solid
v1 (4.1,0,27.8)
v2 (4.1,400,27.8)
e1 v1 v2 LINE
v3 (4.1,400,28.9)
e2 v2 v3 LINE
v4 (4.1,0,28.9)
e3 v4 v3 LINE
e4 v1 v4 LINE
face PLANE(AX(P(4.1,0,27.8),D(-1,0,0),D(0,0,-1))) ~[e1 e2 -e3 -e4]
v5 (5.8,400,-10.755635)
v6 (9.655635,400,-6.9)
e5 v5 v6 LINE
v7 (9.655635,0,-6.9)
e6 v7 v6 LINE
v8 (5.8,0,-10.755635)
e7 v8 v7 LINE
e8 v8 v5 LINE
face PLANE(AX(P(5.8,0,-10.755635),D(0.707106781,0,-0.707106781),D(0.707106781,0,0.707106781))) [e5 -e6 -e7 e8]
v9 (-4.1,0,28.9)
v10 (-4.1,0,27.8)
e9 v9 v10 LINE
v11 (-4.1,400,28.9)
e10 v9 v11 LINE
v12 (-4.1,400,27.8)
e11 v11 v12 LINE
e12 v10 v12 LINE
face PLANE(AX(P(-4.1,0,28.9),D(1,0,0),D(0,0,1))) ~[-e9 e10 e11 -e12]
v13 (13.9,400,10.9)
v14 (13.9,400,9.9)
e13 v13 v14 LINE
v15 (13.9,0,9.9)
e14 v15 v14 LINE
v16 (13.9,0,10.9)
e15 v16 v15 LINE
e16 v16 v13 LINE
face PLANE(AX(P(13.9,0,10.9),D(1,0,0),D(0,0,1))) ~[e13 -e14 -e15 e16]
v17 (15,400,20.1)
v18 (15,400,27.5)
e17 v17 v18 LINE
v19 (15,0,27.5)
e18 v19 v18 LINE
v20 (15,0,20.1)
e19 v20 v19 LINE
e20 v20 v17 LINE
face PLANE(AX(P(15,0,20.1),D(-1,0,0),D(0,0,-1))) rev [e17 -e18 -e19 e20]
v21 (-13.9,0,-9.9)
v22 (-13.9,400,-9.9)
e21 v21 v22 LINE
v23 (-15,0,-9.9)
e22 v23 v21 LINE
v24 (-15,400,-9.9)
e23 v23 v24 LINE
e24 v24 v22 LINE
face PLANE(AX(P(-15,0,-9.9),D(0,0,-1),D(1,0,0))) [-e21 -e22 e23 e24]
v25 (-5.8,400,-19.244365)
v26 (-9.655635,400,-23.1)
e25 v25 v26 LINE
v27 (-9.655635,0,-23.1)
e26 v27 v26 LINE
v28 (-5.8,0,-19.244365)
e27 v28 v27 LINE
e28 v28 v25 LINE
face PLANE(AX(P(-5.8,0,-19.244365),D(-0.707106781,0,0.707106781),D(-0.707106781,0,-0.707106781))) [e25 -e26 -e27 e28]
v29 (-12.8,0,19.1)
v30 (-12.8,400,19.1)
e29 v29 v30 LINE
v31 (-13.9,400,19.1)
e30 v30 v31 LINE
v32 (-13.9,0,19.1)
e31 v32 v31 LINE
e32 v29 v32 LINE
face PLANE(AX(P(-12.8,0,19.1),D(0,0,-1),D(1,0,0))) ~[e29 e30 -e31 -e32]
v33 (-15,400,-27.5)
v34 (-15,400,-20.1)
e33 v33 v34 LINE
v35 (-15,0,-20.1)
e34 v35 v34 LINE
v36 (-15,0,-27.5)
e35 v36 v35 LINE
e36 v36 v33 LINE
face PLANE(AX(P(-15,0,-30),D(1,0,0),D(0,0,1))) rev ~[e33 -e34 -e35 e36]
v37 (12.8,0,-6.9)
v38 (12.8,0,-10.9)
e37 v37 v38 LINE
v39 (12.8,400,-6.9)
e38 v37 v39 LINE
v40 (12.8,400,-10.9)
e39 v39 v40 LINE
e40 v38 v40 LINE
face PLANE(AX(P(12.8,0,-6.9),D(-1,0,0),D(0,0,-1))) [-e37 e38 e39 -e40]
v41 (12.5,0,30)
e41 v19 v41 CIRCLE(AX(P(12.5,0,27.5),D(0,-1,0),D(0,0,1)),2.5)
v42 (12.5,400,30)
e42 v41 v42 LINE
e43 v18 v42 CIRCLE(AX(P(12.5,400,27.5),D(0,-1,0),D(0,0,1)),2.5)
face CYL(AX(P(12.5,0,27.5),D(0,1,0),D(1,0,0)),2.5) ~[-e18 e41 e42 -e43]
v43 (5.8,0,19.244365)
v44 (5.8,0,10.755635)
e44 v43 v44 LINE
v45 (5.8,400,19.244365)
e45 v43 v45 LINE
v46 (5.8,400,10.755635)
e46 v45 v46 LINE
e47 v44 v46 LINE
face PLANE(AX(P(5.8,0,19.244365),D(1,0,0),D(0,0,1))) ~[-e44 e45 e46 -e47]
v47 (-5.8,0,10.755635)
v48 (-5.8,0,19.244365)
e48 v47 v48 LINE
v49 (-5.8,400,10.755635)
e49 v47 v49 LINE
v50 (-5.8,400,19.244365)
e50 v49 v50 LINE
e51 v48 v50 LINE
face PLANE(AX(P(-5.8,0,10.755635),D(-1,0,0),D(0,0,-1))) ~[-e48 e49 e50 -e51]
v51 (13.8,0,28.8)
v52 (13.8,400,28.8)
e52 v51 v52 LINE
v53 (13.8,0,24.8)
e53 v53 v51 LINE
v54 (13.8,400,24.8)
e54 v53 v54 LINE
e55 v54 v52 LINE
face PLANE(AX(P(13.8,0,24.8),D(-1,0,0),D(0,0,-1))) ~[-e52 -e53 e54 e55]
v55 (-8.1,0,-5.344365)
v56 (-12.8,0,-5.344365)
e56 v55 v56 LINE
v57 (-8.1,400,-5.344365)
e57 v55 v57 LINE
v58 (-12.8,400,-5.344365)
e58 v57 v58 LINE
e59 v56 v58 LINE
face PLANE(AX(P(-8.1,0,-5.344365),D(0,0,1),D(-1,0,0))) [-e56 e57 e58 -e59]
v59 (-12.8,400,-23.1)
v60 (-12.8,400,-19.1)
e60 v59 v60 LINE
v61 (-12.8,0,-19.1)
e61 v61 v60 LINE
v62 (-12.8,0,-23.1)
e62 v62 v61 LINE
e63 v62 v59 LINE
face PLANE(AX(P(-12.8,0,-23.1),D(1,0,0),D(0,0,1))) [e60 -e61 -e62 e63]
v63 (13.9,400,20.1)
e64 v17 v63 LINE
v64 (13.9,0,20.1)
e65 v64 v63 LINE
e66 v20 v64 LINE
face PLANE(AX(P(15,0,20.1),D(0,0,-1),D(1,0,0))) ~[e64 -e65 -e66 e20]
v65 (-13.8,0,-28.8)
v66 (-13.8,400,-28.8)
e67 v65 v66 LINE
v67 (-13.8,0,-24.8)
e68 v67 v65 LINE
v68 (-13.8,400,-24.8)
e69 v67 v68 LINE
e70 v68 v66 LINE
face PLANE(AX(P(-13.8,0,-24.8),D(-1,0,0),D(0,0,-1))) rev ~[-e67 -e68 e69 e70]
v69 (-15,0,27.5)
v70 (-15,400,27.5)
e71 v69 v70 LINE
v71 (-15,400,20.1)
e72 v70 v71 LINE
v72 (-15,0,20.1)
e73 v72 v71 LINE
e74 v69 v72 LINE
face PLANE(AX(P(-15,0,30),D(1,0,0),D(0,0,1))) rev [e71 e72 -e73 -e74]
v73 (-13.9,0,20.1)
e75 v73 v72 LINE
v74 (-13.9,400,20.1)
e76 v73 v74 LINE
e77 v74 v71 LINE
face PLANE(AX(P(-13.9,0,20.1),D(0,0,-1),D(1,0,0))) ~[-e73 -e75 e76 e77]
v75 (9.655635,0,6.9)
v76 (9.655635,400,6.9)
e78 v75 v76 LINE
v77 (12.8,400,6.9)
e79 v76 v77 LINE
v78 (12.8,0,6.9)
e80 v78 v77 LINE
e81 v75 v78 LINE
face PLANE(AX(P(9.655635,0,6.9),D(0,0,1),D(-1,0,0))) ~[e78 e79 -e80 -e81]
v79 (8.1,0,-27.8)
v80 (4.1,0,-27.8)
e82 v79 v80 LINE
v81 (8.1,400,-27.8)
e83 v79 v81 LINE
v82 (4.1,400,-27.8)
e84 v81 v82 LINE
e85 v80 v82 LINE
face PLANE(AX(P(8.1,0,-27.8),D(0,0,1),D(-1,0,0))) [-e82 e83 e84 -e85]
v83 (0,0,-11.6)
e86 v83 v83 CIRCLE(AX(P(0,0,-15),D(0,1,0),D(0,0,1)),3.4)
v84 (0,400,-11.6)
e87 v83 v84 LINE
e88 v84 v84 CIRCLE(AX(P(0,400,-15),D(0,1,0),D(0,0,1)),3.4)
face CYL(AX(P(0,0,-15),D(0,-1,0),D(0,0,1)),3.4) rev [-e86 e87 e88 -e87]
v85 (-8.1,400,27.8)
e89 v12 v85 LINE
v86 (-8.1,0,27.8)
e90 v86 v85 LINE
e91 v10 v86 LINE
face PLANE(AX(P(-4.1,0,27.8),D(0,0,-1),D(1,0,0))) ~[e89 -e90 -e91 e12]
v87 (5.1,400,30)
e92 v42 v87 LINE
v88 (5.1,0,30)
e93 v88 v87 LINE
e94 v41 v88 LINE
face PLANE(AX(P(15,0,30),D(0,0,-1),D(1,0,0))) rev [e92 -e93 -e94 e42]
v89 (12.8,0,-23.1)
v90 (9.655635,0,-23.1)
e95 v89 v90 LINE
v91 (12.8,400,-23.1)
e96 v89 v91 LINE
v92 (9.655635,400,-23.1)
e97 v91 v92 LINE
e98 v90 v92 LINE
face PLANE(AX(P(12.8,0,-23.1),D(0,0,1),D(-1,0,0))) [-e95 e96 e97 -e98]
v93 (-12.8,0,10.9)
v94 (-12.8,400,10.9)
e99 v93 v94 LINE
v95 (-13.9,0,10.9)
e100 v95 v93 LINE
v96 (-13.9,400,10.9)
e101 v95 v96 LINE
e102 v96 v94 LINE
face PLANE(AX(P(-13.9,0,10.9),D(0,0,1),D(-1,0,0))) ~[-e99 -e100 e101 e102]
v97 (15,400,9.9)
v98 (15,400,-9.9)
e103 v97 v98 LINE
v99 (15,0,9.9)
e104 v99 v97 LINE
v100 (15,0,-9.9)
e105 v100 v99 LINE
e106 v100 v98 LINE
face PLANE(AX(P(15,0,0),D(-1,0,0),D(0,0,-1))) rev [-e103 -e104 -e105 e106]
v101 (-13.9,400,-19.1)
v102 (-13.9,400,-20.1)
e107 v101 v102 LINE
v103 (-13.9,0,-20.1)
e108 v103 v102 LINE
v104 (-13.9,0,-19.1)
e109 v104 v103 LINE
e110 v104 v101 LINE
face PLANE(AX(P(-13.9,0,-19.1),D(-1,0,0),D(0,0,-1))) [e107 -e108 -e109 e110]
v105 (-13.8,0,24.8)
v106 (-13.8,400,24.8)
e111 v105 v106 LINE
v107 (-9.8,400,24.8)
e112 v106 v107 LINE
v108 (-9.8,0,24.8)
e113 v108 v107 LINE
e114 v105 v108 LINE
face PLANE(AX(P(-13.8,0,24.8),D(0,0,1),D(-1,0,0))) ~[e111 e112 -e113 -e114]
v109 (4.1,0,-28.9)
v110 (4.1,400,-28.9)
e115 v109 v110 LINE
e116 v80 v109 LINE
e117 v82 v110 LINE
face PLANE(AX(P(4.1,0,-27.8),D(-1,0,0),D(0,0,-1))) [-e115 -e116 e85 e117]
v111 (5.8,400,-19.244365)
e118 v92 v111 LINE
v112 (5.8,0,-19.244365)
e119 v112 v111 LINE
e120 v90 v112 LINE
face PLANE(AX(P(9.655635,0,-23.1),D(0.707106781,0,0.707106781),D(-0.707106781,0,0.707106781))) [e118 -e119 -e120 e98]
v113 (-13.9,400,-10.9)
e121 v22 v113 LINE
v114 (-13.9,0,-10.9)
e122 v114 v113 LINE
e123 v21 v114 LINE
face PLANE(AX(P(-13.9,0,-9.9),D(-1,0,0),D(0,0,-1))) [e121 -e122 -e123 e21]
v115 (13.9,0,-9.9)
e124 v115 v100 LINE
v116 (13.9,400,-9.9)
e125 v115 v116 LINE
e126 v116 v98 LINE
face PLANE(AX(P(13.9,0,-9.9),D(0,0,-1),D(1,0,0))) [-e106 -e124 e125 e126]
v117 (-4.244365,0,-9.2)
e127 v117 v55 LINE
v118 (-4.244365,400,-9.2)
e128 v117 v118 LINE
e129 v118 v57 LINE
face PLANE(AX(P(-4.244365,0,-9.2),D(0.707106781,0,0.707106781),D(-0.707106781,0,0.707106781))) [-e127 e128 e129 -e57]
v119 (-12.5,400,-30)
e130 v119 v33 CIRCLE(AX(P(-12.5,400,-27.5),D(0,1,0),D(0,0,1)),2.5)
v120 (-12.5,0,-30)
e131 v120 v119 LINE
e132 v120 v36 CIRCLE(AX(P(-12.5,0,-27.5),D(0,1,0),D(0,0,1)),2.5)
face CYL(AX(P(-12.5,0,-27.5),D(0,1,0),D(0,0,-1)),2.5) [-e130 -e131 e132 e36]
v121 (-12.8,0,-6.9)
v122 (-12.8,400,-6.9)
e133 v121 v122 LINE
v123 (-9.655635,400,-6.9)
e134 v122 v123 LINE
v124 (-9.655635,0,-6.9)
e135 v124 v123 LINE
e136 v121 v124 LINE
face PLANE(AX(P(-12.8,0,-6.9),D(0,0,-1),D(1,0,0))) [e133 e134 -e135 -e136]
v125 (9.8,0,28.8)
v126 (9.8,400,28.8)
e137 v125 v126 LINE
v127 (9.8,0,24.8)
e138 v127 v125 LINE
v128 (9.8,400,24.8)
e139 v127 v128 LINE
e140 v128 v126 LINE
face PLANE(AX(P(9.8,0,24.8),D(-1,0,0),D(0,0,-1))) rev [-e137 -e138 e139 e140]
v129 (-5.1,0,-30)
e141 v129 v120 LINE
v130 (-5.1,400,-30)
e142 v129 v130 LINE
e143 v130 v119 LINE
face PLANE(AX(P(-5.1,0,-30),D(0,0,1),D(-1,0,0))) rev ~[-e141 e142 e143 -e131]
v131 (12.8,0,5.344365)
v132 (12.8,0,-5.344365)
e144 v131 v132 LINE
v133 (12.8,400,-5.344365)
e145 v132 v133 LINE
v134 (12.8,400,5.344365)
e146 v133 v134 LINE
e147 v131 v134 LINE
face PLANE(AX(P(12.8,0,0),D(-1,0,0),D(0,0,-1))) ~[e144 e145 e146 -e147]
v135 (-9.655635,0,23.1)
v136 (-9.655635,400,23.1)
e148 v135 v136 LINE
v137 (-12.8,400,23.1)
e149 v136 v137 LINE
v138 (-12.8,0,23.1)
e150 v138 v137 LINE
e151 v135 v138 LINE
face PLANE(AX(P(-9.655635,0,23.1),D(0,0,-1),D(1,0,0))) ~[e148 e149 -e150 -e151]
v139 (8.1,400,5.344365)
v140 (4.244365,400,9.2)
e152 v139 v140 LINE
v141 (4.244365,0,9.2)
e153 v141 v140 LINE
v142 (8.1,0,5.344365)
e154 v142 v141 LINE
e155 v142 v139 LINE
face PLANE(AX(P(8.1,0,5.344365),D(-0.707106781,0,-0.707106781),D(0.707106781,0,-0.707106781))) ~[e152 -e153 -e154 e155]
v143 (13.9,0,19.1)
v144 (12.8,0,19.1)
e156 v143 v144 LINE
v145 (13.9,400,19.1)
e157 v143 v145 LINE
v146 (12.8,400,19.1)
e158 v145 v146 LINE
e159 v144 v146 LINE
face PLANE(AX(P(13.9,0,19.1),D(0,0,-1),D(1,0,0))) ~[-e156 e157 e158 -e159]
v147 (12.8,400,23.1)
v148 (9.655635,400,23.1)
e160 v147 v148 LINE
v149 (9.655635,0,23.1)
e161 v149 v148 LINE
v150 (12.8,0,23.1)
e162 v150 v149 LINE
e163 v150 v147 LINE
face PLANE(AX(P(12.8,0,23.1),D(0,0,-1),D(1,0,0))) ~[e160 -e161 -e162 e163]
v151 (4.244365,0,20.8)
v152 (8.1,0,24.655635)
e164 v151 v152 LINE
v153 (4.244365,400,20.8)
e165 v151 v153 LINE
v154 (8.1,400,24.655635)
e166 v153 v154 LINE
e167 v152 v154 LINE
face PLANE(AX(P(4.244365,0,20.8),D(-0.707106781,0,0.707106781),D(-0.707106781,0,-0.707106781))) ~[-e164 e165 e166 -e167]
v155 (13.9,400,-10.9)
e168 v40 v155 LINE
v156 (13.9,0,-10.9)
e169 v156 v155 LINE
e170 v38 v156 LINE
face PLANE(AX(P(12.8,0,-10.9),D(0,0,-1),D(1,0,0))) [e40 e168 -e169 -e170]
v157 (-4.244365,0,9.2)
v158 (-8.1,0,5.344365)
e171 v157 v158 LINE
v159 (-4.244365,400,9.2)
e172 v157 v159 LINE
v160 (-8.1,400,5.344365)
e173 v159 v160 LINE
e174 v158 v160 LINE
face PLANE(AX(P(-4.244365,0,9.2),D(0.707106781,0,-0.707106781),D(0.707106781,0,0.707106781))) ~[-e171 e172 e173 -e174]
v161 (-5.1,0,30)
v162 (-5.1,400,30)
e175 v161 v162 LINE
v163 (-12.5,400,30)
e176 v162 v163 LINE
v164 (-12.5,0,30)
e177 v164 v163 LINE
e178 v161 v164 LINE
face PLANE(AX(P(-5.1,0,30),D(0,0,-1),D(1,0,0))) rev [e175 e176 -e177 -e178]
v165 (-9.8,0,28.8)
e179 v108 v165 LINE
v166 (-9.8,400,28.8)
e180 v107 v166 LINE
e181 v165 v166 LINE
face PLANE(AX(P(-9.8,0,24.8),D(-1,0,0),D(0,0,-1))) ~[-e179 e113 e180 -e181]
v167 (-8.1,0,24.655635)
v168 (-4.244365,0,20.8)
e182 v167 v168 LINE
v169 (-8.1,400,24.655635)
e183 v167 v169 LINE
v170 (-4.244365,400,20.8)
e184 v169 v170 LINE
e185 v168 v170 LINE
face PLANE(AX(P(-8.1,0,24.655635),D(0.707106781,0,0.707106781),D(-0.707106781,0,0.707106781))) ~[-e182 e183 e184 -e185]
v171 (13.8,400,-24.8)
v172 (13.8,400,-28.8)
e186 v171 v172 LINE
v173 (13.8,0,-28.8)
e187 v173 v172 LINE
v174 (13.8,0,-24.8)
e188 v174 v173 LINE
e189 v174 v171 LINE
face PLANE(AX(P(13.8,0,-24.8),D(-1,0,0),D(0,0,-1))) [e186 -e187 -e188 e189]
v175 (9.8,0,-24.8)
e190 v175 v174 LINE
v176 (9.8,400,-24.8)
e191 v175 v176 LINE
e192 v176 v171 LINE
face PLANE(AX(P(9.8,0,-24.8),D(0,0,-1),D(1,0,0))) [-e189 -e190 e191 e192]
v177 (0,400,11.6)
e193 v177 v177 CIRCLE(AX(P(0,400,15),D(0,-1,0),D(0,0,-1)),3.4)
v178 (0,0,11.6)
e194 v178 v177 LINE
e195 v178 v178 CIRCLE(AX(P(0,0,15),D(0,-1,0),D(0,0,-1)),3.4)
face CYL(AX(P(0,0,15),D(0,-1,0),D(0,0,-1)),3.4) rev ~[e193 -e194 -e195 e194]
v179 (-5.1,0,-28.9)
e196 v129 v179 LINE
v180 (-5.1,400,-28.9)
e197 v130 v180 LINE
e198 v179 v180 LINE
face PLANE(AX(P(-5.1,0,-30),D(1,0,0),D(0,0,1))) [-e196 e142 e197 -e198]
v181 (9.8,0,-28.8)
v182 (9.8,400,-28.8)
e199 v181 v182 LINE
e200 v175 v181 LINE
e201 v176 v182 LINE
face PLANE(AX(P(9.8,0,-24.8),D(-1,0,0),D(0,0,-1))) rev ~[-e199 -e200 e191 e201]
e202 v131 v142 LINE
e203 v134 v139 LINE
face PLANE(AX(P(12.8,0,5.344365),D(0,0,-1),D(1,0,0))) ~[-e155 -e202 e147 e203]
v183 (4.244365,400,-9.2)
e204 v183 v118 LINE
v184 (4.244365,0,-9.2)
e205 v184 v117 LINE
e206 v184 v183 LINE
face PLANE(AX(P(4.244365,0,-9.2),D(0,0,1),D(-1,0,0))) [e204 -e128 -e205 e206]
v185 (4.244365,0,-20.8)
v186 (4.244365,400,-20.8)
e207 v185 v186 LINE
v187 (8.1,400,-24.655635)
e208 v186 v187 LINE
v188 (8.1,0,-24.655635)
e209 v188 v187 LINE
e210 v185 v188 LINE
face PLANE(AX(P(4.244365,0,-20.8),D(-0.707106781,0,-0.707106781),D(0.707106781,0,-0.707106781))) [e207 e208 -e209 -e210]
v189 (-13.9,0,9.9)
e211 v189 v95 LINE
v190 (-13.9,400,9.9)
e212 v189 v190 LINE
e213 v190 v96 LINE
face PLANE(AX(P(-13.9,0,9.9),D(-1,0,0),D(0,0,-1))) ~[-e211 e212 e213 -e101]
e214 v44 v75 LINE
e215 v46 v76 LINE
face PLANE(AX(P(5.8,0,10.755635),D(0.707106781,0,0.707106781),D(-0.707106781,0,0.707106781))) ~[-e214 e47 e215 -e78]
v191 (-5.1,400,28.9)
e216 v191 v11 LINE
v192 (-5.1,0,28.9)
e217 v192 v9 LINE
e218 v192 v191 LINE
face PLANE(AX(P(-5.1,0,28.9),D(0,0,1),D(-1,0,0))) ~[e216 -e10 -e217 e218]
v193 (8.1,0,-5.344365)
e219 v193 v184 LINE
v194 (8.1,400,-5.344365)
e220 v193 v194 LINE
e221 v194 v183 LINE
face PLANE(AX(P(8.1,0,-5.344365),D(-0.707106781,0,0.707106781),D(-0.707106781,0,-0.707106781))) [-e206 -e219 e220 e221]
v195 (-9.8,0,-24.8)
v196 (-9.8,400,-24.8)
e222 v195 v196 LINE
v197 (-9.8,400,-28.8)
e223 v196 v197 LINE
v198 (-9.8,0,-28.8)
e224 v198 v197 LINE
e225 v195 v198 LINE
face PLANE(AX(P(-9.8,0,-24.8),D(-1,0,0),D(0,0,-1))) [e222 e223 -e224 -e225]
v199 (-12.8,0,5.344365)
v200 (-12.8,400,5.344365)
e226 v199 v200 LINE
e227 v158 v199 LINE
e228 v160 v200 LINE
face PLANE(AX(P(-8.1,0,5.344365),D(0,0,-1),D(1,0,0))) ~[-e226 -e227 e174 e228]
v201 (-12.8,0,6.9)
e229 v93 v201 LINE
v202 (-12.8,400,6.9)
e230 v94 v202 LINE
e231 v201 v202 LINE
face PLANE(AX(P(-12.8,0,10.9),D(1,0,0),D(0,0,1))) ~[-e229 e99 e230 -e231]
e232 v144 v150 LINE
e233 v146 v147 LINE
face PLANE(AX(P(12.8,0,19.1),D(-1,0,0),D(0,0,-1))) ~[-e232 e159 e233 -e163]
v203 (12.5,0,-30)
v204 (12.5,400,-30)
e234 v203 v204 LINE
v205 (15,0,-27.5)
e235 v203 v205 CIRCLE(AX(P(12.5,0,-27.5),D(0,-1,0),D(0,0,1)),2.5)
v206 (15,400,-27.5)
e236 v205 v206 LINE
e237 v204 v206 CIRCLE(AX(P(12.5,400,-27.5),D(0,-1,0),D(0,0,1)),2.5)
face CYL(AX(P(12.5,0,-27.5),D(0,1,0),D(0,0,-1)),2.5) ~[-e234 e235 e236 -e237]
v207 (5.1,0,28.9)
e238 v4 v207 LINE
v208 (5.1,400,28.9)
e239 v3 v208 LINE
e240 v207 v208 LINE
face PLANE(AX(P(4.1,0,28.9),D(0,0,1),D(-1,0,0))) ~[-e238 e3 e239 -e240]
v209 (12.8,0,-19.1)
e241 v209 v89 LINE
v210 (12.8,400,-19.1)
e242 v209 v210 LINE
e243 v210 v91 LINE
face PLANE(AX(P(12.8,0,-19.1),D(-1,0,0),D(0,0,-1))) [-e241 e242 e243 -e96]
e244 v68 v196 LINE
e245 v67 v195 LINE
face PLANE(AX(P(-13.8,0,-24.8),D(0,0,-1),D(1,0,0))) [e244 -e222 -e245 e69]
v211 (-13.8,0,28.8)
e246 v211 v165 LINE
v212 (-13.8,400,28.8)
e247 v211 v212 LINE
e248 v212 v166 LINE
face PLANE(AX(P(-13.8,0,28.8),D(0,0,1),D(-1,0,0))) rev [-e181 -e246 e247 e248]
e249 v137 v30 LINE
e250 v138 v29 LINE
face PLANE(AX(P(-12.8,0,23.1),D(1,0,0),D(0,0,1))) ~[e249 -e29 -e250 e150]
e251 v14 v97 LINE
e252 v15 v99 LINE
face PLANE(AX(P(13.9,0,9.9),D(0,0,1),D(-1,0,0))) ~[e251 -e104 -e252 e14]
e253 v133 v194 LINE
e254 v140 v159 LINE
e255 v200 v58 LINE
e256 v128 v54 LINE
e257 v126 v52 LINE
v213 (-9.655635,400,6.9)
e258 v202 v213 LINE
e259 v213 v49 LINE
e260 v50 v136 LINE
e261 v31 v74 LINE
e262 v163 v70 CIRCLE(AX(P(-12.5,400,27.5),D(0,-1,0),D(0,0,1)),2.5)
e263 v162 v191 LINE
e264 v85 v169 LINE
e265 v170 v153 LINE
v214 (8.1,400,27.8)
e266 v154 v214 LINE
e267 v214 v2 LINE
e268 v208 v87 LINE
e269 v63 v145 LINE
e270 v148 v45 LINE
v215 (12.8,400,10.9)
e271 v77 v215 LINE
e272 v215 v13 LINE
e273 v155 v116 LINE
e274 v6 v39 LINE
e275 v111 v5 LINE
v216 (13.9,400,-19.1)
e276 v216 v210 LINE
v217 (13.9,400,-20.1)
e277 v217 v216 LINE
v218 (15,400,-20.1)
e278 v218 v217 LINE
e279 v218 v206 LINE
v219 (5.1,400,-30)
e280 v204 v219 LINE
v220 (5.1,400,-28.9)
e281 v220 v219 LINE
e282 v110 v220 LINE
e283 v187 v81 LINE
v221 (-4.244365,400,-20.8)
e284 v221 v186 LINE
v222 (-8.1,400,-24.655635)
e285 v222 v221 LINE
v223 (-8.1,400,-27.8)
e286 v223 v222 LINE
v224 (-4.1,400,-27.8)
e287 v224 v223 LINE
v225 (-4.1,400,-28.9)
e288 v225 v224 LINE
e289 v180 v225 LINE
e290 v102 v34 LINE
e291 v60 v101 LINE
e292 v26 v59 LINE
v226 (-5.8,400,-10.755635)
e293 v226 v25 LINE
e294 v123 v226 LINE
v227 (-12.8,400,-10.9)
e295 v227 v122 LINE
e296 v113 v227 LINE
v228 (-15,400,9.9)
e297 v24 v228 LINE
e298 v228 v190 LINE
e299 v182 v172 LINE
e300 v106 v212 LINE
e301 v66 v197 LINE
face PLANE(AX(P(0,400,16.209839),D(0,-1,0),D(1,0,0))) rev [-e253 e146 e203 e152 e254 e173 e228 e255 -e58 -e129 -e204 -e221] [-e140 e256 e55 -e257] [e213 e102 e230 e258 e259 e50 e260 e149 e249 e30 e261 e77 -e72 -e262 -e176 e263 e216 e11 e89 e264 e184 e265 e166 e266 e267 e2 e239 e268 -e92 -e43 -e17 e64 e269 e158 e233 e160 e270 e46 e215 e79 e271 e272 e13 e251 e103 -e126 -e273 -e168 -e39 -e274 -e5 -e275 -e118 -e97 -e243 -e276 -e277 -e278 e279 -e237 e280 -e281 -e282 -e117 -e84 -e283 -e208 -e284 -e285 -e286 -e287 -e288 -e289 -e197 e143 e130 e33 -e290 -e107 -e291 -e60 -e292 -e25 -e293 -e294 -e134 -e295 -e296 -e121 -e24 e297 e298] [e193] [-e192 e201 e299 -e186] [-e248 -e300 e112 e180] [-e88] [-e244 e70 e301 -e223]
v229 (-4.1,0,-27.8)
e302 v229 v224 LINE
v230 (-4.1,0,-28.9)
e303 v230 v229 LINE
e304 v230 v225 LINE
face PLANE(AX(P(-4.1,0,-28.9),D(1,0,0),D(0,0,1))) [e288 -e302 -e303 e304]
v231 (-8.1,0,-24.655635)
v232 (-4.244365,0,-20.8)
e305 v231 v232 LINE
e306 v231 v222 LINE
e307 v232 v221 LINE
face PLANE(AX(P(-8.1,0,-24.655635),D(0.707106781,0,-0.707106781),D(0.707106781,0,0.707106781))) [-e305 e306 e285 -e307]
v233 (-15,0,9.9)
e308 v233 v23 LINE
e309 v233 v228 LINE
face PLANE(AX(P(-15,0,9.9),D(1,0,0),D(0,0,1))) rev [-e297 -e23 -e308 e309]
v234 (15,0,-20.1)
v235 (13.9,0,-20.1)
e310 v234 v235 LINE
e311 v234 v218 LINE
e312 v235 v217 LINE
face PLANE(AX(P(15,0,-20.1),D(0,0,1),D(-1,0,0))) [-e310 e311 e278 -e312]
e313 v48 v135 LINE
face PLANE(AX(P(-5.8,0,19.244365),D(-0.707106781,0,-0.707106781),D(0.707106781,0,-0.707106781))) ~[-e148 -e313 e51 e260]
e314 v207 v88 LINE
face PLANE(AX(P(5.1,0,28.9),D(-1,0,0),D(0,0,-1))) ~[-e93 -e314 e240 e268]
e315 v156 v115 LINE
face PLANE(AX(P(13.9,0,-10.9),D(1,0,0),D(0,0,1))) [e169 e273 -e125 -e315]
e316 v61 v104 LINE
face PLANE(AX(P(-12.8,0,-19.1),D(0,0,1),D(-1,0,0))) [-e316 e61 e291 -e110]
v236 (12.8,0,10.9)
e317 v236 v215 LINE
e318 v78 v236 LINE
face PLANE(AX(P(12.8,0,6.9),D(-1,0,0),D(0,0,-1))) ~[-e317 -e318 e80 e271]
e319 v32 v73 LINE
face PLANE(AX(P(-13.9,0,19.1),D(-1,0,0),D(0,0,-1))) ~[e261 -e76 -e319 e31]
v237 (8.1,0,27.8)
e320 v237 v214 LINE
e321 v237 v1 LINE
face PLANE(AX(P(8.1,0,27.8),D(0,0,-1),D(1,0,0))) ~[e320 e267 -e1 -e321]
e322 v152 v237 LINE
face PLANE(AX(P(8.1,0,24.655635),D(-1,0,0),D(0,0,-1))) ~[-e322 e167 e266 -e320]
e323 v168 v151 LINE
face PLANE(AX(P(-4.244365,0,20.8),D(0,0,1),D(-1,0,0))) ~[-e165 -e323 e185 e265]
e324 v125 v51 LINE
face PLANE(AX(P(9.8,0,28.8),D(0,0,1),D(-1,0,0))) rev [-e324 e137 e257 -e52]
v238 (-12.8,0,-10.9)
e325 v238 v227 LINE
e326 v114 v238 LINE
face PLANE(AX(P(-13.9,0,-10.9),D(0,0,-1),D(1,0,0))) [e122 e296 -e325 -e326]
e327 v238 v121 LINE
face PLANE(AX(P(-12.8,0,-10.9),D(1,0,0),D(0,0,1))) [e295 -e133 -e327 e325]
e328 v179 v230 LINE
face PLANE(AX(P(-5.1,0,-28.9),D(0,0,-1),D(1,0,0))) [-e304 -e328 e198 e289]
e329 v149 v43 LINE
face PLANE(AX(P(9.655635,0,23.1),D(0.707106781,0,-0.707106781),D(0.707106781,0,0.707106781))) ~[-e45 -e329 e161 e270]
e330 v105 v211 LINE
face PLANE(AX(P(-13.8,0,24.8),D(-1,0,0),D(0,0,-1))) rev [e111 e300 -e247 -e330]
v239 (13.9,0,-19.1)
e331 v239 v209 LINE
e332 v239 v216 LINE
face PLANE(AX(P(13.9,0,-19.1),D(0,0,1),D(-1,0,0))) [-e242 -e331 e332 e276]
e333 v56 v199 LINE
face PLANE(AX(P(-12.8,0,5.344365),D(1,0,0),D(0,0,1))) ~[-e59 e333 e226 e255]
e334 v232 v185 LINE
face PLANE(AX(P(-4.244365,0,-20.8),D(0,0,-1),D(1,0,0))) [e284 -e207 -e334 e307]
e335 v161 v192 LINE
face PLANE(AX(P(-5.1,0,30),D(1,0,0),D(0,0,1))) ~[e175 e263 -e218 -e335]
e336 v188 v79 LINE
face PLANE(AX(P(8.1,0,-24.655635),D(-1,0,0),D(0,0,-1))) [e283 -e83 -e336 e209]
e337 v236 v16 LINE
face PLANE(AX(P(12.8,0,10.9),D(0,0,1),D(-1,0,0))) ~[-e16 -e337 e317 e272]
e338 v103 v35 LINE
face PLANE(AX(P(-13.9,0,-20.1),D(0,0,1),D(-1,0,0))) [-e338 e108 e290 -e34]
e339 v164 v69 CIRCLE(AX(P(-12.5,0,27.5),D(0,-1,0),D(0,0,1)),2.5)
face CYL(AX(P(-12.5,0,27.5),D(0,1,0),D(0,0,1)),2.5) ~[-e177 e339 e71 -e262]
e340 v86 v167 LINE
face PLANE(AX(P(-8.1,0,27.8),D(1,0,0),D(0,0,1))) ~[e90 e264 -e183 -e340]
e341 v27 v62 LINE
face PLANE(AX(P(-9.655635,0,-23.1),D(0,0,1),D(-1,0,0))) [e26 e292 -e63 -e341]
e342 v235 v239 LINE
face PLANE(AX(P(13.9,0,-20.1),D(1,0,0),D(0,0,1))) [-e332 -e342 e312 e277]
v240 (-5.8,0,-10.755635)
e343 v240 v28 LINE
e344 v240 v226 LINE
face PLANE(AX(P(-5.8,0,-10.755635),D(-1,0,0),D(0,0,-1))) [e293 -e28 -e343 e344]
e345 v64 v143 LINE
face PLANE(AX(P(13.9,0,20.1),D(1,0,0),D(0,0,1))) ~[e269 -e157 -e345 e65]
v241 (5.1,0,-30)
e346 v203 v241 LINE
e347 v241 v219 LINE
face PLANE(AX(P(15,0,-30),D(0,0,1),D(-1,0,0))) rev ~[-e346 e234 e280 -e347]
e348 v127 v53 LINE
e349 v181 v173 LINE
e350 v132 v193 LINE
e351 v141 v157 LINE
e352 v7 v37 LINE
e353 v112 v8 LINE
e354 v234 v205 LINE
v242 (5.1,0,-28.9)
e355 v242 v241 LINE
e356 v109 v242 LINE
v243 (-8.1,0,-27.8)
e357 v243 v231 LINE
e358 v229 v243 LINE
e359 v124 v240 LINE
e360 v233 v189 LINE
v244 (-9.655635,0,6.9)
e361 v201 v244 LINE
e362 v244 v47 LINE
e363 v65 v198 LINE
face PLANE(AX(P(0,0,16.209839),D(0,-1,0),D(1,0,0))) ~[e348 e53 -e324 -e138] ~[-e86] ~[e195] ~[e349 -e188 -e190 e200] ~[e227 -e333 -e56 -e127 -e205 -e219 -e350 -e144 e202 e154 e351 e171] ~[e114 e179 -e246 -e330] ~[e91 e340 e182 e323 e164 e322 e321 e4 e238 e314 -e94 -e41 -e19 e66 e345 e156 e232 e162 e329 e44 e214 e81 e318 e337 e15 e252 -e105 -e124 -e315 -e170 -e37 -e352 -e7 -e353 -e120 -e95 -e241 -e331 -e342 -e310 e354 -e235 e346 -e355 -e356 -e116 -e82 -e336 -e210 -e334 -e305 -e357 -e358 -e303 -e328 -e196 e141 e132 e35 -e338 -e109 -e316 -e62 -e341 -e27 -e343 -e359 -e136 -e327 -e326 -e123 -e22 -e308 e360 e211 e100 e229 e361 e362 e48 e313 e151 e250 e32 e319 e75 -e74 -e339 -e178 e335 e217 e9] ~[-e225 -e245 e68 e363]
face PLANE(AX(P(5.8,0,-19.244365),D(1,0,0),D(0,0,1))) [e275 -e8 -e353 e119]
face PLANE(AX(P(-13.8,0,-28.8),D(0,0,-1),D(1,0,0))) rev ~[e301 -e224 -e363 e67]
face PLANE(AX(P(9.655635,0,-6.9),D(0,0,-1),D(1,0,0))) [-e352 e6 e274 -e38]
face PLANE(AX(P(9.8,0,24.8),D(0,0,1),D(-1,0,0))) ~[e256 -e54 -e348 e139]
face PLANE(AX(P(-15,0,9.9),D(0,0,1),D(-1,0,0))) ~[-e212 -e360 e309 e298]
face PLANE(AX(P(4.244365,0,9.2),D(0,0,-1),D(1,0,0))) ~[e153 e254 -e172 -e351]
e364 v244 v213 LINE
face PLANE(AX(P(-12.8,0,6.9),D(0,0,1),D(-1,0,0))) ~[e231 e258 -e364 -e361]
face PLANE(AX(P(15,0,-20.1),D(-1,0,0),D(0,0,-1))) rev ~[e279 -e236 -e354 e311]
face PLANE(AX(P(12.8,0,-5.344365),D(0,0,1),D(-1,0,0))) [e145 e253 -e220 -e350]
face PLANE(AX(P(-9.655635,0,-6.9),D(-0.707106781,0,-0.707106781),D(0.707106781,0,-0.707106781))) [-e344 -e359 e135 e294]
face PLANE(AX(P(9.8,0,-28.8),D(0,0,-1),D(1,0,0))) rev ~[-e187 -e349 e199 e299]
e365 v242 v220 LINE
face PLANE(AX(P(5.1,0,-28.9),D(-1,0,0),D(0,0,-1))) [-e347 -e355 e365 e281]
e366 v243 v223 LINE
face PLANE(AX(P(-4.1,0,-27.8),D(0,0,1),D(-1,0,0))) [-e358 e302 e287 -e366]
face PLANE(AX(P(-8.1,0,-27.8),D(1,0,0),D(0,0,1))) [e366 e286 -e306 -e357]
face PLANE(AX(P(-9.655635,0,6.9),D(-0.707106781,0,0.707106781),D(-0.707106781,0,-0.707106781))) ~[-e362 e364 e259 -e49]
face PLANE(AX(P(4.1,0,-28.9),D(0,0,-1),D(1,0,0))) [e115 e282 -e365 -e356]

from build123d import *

# Parameters (mm, degrees)
SKETCH1_R            = 3.4
SKETCH1_W            = 4
SKETCH1_H            = 4
BOSS_EXTRUDE1_DEPTH  = 400
FILLET1_R            = 2.5
FILLET1_OF_MIRROR1_R = 2.5


with BuildPart() as part:
    # Sketch1 → Boss-Extrude1 (new body)
    with BuildSketch(Plane(origin=(0, 0, 0), x_dir=(1, 0, 0), z_dir=(0, 1, 0))):
        Polygon((-4.244365081, 20.8), (4.244365081, 20.8), (8.1, 24.655634919), (8.1, 27.8), (4.1, 27.8), (4.1, 28.9), (5.1, 28.9), (5.1, 30), (13.444365081, 30), (15, 30), (15, 28.444365081), (15, 20.1), (13.9, 20.1), (13.9, 19.1), (12.8, 19.1), (12.8, 23.1), (9.655634919, 23.1), (5.8, 19.244365081), (5.8, 10.755634919), (9.655634919, 6.9), (12.8, 6.9), (12.8, 10.9), (13.9, 10.9), (13.9, 9.9), (15, 9.9), (15, 1.555634919), (15, 0), (13.444365081, 0), (12.8, 0), (12.8, 5.344365081), (8.1, 5.344365081), (4.244365081, 9.2), (-4.244365081, 9.2), (-8.1, 5.344365081), (-12.8, 5.344365081), (-12.8, 0), (-13.444365081, 0), (-15, 0), (-15, 1.555634919), (-15, 9.9), (-13.9, 9.9), (-13.9, 10.9), (-12.8, 10.9), (-12.8, 6.9), (-9.655634919, 6.9), (-5.8, 10.755634919), (-5.8, 19.244365081), (-9.655634919, 23.1), (-12.8, 23.1), (-12.8, 19.1), (-13.9, 19.1), (-13.9, 20.1), (-15, 20.1), (-15, 28.444365081), (-15, 30), (-13.444365081, 30), (-5.1, 30), (-5.1, 28.9), (-4.1, 28.9), (-4.1, 27.8), (-8.1, 27.8), (-8.1, 24.655634919), align=None)
        with Locations(Location((0, 15, 0), (0, 0, 270))):
            Circle(SKETCH1_R, mode=Mode.SUBTRACT)
        with Locations((11.8, 26.8)):
            Rectangle(SKETCH1_W, SKETCH1_H, mode=Mode.SUBTRACT)
        with Locations((-11.8, 26.8)):
            Rectangle(SKETCH1_W, SKETCH1_H, mode=Mode.SUBTRACT)
    boss_extrude1 = extrude(amount=BOSS_EXTRUDE1_DEPTH)

    # Fillet1
    fillet1_edges = [part.edges().sort_by_distance(p)[0] for p in [
        (15, 200, -30),
        (-15, 200, -30),
    ]]
    fillet(fillet1_edges, radius=FILLET1_R)

    # Mirror1: Boss-Extrude1 across plane
    add(boss_extrude1.mirror(Plane.XY))

    # Fillet1 of Mirror1
    fillet1_of_mirror1_edges = [part.edges().sort_by_distance(p)[0] for p in [
        (15, 200, 30),
        (-15, 200, 30),
    ]]
    fillet(fillet1_of_mirror1_edges, radius=FILLET1_OF_MIRROR1_R)


solid = part.part
